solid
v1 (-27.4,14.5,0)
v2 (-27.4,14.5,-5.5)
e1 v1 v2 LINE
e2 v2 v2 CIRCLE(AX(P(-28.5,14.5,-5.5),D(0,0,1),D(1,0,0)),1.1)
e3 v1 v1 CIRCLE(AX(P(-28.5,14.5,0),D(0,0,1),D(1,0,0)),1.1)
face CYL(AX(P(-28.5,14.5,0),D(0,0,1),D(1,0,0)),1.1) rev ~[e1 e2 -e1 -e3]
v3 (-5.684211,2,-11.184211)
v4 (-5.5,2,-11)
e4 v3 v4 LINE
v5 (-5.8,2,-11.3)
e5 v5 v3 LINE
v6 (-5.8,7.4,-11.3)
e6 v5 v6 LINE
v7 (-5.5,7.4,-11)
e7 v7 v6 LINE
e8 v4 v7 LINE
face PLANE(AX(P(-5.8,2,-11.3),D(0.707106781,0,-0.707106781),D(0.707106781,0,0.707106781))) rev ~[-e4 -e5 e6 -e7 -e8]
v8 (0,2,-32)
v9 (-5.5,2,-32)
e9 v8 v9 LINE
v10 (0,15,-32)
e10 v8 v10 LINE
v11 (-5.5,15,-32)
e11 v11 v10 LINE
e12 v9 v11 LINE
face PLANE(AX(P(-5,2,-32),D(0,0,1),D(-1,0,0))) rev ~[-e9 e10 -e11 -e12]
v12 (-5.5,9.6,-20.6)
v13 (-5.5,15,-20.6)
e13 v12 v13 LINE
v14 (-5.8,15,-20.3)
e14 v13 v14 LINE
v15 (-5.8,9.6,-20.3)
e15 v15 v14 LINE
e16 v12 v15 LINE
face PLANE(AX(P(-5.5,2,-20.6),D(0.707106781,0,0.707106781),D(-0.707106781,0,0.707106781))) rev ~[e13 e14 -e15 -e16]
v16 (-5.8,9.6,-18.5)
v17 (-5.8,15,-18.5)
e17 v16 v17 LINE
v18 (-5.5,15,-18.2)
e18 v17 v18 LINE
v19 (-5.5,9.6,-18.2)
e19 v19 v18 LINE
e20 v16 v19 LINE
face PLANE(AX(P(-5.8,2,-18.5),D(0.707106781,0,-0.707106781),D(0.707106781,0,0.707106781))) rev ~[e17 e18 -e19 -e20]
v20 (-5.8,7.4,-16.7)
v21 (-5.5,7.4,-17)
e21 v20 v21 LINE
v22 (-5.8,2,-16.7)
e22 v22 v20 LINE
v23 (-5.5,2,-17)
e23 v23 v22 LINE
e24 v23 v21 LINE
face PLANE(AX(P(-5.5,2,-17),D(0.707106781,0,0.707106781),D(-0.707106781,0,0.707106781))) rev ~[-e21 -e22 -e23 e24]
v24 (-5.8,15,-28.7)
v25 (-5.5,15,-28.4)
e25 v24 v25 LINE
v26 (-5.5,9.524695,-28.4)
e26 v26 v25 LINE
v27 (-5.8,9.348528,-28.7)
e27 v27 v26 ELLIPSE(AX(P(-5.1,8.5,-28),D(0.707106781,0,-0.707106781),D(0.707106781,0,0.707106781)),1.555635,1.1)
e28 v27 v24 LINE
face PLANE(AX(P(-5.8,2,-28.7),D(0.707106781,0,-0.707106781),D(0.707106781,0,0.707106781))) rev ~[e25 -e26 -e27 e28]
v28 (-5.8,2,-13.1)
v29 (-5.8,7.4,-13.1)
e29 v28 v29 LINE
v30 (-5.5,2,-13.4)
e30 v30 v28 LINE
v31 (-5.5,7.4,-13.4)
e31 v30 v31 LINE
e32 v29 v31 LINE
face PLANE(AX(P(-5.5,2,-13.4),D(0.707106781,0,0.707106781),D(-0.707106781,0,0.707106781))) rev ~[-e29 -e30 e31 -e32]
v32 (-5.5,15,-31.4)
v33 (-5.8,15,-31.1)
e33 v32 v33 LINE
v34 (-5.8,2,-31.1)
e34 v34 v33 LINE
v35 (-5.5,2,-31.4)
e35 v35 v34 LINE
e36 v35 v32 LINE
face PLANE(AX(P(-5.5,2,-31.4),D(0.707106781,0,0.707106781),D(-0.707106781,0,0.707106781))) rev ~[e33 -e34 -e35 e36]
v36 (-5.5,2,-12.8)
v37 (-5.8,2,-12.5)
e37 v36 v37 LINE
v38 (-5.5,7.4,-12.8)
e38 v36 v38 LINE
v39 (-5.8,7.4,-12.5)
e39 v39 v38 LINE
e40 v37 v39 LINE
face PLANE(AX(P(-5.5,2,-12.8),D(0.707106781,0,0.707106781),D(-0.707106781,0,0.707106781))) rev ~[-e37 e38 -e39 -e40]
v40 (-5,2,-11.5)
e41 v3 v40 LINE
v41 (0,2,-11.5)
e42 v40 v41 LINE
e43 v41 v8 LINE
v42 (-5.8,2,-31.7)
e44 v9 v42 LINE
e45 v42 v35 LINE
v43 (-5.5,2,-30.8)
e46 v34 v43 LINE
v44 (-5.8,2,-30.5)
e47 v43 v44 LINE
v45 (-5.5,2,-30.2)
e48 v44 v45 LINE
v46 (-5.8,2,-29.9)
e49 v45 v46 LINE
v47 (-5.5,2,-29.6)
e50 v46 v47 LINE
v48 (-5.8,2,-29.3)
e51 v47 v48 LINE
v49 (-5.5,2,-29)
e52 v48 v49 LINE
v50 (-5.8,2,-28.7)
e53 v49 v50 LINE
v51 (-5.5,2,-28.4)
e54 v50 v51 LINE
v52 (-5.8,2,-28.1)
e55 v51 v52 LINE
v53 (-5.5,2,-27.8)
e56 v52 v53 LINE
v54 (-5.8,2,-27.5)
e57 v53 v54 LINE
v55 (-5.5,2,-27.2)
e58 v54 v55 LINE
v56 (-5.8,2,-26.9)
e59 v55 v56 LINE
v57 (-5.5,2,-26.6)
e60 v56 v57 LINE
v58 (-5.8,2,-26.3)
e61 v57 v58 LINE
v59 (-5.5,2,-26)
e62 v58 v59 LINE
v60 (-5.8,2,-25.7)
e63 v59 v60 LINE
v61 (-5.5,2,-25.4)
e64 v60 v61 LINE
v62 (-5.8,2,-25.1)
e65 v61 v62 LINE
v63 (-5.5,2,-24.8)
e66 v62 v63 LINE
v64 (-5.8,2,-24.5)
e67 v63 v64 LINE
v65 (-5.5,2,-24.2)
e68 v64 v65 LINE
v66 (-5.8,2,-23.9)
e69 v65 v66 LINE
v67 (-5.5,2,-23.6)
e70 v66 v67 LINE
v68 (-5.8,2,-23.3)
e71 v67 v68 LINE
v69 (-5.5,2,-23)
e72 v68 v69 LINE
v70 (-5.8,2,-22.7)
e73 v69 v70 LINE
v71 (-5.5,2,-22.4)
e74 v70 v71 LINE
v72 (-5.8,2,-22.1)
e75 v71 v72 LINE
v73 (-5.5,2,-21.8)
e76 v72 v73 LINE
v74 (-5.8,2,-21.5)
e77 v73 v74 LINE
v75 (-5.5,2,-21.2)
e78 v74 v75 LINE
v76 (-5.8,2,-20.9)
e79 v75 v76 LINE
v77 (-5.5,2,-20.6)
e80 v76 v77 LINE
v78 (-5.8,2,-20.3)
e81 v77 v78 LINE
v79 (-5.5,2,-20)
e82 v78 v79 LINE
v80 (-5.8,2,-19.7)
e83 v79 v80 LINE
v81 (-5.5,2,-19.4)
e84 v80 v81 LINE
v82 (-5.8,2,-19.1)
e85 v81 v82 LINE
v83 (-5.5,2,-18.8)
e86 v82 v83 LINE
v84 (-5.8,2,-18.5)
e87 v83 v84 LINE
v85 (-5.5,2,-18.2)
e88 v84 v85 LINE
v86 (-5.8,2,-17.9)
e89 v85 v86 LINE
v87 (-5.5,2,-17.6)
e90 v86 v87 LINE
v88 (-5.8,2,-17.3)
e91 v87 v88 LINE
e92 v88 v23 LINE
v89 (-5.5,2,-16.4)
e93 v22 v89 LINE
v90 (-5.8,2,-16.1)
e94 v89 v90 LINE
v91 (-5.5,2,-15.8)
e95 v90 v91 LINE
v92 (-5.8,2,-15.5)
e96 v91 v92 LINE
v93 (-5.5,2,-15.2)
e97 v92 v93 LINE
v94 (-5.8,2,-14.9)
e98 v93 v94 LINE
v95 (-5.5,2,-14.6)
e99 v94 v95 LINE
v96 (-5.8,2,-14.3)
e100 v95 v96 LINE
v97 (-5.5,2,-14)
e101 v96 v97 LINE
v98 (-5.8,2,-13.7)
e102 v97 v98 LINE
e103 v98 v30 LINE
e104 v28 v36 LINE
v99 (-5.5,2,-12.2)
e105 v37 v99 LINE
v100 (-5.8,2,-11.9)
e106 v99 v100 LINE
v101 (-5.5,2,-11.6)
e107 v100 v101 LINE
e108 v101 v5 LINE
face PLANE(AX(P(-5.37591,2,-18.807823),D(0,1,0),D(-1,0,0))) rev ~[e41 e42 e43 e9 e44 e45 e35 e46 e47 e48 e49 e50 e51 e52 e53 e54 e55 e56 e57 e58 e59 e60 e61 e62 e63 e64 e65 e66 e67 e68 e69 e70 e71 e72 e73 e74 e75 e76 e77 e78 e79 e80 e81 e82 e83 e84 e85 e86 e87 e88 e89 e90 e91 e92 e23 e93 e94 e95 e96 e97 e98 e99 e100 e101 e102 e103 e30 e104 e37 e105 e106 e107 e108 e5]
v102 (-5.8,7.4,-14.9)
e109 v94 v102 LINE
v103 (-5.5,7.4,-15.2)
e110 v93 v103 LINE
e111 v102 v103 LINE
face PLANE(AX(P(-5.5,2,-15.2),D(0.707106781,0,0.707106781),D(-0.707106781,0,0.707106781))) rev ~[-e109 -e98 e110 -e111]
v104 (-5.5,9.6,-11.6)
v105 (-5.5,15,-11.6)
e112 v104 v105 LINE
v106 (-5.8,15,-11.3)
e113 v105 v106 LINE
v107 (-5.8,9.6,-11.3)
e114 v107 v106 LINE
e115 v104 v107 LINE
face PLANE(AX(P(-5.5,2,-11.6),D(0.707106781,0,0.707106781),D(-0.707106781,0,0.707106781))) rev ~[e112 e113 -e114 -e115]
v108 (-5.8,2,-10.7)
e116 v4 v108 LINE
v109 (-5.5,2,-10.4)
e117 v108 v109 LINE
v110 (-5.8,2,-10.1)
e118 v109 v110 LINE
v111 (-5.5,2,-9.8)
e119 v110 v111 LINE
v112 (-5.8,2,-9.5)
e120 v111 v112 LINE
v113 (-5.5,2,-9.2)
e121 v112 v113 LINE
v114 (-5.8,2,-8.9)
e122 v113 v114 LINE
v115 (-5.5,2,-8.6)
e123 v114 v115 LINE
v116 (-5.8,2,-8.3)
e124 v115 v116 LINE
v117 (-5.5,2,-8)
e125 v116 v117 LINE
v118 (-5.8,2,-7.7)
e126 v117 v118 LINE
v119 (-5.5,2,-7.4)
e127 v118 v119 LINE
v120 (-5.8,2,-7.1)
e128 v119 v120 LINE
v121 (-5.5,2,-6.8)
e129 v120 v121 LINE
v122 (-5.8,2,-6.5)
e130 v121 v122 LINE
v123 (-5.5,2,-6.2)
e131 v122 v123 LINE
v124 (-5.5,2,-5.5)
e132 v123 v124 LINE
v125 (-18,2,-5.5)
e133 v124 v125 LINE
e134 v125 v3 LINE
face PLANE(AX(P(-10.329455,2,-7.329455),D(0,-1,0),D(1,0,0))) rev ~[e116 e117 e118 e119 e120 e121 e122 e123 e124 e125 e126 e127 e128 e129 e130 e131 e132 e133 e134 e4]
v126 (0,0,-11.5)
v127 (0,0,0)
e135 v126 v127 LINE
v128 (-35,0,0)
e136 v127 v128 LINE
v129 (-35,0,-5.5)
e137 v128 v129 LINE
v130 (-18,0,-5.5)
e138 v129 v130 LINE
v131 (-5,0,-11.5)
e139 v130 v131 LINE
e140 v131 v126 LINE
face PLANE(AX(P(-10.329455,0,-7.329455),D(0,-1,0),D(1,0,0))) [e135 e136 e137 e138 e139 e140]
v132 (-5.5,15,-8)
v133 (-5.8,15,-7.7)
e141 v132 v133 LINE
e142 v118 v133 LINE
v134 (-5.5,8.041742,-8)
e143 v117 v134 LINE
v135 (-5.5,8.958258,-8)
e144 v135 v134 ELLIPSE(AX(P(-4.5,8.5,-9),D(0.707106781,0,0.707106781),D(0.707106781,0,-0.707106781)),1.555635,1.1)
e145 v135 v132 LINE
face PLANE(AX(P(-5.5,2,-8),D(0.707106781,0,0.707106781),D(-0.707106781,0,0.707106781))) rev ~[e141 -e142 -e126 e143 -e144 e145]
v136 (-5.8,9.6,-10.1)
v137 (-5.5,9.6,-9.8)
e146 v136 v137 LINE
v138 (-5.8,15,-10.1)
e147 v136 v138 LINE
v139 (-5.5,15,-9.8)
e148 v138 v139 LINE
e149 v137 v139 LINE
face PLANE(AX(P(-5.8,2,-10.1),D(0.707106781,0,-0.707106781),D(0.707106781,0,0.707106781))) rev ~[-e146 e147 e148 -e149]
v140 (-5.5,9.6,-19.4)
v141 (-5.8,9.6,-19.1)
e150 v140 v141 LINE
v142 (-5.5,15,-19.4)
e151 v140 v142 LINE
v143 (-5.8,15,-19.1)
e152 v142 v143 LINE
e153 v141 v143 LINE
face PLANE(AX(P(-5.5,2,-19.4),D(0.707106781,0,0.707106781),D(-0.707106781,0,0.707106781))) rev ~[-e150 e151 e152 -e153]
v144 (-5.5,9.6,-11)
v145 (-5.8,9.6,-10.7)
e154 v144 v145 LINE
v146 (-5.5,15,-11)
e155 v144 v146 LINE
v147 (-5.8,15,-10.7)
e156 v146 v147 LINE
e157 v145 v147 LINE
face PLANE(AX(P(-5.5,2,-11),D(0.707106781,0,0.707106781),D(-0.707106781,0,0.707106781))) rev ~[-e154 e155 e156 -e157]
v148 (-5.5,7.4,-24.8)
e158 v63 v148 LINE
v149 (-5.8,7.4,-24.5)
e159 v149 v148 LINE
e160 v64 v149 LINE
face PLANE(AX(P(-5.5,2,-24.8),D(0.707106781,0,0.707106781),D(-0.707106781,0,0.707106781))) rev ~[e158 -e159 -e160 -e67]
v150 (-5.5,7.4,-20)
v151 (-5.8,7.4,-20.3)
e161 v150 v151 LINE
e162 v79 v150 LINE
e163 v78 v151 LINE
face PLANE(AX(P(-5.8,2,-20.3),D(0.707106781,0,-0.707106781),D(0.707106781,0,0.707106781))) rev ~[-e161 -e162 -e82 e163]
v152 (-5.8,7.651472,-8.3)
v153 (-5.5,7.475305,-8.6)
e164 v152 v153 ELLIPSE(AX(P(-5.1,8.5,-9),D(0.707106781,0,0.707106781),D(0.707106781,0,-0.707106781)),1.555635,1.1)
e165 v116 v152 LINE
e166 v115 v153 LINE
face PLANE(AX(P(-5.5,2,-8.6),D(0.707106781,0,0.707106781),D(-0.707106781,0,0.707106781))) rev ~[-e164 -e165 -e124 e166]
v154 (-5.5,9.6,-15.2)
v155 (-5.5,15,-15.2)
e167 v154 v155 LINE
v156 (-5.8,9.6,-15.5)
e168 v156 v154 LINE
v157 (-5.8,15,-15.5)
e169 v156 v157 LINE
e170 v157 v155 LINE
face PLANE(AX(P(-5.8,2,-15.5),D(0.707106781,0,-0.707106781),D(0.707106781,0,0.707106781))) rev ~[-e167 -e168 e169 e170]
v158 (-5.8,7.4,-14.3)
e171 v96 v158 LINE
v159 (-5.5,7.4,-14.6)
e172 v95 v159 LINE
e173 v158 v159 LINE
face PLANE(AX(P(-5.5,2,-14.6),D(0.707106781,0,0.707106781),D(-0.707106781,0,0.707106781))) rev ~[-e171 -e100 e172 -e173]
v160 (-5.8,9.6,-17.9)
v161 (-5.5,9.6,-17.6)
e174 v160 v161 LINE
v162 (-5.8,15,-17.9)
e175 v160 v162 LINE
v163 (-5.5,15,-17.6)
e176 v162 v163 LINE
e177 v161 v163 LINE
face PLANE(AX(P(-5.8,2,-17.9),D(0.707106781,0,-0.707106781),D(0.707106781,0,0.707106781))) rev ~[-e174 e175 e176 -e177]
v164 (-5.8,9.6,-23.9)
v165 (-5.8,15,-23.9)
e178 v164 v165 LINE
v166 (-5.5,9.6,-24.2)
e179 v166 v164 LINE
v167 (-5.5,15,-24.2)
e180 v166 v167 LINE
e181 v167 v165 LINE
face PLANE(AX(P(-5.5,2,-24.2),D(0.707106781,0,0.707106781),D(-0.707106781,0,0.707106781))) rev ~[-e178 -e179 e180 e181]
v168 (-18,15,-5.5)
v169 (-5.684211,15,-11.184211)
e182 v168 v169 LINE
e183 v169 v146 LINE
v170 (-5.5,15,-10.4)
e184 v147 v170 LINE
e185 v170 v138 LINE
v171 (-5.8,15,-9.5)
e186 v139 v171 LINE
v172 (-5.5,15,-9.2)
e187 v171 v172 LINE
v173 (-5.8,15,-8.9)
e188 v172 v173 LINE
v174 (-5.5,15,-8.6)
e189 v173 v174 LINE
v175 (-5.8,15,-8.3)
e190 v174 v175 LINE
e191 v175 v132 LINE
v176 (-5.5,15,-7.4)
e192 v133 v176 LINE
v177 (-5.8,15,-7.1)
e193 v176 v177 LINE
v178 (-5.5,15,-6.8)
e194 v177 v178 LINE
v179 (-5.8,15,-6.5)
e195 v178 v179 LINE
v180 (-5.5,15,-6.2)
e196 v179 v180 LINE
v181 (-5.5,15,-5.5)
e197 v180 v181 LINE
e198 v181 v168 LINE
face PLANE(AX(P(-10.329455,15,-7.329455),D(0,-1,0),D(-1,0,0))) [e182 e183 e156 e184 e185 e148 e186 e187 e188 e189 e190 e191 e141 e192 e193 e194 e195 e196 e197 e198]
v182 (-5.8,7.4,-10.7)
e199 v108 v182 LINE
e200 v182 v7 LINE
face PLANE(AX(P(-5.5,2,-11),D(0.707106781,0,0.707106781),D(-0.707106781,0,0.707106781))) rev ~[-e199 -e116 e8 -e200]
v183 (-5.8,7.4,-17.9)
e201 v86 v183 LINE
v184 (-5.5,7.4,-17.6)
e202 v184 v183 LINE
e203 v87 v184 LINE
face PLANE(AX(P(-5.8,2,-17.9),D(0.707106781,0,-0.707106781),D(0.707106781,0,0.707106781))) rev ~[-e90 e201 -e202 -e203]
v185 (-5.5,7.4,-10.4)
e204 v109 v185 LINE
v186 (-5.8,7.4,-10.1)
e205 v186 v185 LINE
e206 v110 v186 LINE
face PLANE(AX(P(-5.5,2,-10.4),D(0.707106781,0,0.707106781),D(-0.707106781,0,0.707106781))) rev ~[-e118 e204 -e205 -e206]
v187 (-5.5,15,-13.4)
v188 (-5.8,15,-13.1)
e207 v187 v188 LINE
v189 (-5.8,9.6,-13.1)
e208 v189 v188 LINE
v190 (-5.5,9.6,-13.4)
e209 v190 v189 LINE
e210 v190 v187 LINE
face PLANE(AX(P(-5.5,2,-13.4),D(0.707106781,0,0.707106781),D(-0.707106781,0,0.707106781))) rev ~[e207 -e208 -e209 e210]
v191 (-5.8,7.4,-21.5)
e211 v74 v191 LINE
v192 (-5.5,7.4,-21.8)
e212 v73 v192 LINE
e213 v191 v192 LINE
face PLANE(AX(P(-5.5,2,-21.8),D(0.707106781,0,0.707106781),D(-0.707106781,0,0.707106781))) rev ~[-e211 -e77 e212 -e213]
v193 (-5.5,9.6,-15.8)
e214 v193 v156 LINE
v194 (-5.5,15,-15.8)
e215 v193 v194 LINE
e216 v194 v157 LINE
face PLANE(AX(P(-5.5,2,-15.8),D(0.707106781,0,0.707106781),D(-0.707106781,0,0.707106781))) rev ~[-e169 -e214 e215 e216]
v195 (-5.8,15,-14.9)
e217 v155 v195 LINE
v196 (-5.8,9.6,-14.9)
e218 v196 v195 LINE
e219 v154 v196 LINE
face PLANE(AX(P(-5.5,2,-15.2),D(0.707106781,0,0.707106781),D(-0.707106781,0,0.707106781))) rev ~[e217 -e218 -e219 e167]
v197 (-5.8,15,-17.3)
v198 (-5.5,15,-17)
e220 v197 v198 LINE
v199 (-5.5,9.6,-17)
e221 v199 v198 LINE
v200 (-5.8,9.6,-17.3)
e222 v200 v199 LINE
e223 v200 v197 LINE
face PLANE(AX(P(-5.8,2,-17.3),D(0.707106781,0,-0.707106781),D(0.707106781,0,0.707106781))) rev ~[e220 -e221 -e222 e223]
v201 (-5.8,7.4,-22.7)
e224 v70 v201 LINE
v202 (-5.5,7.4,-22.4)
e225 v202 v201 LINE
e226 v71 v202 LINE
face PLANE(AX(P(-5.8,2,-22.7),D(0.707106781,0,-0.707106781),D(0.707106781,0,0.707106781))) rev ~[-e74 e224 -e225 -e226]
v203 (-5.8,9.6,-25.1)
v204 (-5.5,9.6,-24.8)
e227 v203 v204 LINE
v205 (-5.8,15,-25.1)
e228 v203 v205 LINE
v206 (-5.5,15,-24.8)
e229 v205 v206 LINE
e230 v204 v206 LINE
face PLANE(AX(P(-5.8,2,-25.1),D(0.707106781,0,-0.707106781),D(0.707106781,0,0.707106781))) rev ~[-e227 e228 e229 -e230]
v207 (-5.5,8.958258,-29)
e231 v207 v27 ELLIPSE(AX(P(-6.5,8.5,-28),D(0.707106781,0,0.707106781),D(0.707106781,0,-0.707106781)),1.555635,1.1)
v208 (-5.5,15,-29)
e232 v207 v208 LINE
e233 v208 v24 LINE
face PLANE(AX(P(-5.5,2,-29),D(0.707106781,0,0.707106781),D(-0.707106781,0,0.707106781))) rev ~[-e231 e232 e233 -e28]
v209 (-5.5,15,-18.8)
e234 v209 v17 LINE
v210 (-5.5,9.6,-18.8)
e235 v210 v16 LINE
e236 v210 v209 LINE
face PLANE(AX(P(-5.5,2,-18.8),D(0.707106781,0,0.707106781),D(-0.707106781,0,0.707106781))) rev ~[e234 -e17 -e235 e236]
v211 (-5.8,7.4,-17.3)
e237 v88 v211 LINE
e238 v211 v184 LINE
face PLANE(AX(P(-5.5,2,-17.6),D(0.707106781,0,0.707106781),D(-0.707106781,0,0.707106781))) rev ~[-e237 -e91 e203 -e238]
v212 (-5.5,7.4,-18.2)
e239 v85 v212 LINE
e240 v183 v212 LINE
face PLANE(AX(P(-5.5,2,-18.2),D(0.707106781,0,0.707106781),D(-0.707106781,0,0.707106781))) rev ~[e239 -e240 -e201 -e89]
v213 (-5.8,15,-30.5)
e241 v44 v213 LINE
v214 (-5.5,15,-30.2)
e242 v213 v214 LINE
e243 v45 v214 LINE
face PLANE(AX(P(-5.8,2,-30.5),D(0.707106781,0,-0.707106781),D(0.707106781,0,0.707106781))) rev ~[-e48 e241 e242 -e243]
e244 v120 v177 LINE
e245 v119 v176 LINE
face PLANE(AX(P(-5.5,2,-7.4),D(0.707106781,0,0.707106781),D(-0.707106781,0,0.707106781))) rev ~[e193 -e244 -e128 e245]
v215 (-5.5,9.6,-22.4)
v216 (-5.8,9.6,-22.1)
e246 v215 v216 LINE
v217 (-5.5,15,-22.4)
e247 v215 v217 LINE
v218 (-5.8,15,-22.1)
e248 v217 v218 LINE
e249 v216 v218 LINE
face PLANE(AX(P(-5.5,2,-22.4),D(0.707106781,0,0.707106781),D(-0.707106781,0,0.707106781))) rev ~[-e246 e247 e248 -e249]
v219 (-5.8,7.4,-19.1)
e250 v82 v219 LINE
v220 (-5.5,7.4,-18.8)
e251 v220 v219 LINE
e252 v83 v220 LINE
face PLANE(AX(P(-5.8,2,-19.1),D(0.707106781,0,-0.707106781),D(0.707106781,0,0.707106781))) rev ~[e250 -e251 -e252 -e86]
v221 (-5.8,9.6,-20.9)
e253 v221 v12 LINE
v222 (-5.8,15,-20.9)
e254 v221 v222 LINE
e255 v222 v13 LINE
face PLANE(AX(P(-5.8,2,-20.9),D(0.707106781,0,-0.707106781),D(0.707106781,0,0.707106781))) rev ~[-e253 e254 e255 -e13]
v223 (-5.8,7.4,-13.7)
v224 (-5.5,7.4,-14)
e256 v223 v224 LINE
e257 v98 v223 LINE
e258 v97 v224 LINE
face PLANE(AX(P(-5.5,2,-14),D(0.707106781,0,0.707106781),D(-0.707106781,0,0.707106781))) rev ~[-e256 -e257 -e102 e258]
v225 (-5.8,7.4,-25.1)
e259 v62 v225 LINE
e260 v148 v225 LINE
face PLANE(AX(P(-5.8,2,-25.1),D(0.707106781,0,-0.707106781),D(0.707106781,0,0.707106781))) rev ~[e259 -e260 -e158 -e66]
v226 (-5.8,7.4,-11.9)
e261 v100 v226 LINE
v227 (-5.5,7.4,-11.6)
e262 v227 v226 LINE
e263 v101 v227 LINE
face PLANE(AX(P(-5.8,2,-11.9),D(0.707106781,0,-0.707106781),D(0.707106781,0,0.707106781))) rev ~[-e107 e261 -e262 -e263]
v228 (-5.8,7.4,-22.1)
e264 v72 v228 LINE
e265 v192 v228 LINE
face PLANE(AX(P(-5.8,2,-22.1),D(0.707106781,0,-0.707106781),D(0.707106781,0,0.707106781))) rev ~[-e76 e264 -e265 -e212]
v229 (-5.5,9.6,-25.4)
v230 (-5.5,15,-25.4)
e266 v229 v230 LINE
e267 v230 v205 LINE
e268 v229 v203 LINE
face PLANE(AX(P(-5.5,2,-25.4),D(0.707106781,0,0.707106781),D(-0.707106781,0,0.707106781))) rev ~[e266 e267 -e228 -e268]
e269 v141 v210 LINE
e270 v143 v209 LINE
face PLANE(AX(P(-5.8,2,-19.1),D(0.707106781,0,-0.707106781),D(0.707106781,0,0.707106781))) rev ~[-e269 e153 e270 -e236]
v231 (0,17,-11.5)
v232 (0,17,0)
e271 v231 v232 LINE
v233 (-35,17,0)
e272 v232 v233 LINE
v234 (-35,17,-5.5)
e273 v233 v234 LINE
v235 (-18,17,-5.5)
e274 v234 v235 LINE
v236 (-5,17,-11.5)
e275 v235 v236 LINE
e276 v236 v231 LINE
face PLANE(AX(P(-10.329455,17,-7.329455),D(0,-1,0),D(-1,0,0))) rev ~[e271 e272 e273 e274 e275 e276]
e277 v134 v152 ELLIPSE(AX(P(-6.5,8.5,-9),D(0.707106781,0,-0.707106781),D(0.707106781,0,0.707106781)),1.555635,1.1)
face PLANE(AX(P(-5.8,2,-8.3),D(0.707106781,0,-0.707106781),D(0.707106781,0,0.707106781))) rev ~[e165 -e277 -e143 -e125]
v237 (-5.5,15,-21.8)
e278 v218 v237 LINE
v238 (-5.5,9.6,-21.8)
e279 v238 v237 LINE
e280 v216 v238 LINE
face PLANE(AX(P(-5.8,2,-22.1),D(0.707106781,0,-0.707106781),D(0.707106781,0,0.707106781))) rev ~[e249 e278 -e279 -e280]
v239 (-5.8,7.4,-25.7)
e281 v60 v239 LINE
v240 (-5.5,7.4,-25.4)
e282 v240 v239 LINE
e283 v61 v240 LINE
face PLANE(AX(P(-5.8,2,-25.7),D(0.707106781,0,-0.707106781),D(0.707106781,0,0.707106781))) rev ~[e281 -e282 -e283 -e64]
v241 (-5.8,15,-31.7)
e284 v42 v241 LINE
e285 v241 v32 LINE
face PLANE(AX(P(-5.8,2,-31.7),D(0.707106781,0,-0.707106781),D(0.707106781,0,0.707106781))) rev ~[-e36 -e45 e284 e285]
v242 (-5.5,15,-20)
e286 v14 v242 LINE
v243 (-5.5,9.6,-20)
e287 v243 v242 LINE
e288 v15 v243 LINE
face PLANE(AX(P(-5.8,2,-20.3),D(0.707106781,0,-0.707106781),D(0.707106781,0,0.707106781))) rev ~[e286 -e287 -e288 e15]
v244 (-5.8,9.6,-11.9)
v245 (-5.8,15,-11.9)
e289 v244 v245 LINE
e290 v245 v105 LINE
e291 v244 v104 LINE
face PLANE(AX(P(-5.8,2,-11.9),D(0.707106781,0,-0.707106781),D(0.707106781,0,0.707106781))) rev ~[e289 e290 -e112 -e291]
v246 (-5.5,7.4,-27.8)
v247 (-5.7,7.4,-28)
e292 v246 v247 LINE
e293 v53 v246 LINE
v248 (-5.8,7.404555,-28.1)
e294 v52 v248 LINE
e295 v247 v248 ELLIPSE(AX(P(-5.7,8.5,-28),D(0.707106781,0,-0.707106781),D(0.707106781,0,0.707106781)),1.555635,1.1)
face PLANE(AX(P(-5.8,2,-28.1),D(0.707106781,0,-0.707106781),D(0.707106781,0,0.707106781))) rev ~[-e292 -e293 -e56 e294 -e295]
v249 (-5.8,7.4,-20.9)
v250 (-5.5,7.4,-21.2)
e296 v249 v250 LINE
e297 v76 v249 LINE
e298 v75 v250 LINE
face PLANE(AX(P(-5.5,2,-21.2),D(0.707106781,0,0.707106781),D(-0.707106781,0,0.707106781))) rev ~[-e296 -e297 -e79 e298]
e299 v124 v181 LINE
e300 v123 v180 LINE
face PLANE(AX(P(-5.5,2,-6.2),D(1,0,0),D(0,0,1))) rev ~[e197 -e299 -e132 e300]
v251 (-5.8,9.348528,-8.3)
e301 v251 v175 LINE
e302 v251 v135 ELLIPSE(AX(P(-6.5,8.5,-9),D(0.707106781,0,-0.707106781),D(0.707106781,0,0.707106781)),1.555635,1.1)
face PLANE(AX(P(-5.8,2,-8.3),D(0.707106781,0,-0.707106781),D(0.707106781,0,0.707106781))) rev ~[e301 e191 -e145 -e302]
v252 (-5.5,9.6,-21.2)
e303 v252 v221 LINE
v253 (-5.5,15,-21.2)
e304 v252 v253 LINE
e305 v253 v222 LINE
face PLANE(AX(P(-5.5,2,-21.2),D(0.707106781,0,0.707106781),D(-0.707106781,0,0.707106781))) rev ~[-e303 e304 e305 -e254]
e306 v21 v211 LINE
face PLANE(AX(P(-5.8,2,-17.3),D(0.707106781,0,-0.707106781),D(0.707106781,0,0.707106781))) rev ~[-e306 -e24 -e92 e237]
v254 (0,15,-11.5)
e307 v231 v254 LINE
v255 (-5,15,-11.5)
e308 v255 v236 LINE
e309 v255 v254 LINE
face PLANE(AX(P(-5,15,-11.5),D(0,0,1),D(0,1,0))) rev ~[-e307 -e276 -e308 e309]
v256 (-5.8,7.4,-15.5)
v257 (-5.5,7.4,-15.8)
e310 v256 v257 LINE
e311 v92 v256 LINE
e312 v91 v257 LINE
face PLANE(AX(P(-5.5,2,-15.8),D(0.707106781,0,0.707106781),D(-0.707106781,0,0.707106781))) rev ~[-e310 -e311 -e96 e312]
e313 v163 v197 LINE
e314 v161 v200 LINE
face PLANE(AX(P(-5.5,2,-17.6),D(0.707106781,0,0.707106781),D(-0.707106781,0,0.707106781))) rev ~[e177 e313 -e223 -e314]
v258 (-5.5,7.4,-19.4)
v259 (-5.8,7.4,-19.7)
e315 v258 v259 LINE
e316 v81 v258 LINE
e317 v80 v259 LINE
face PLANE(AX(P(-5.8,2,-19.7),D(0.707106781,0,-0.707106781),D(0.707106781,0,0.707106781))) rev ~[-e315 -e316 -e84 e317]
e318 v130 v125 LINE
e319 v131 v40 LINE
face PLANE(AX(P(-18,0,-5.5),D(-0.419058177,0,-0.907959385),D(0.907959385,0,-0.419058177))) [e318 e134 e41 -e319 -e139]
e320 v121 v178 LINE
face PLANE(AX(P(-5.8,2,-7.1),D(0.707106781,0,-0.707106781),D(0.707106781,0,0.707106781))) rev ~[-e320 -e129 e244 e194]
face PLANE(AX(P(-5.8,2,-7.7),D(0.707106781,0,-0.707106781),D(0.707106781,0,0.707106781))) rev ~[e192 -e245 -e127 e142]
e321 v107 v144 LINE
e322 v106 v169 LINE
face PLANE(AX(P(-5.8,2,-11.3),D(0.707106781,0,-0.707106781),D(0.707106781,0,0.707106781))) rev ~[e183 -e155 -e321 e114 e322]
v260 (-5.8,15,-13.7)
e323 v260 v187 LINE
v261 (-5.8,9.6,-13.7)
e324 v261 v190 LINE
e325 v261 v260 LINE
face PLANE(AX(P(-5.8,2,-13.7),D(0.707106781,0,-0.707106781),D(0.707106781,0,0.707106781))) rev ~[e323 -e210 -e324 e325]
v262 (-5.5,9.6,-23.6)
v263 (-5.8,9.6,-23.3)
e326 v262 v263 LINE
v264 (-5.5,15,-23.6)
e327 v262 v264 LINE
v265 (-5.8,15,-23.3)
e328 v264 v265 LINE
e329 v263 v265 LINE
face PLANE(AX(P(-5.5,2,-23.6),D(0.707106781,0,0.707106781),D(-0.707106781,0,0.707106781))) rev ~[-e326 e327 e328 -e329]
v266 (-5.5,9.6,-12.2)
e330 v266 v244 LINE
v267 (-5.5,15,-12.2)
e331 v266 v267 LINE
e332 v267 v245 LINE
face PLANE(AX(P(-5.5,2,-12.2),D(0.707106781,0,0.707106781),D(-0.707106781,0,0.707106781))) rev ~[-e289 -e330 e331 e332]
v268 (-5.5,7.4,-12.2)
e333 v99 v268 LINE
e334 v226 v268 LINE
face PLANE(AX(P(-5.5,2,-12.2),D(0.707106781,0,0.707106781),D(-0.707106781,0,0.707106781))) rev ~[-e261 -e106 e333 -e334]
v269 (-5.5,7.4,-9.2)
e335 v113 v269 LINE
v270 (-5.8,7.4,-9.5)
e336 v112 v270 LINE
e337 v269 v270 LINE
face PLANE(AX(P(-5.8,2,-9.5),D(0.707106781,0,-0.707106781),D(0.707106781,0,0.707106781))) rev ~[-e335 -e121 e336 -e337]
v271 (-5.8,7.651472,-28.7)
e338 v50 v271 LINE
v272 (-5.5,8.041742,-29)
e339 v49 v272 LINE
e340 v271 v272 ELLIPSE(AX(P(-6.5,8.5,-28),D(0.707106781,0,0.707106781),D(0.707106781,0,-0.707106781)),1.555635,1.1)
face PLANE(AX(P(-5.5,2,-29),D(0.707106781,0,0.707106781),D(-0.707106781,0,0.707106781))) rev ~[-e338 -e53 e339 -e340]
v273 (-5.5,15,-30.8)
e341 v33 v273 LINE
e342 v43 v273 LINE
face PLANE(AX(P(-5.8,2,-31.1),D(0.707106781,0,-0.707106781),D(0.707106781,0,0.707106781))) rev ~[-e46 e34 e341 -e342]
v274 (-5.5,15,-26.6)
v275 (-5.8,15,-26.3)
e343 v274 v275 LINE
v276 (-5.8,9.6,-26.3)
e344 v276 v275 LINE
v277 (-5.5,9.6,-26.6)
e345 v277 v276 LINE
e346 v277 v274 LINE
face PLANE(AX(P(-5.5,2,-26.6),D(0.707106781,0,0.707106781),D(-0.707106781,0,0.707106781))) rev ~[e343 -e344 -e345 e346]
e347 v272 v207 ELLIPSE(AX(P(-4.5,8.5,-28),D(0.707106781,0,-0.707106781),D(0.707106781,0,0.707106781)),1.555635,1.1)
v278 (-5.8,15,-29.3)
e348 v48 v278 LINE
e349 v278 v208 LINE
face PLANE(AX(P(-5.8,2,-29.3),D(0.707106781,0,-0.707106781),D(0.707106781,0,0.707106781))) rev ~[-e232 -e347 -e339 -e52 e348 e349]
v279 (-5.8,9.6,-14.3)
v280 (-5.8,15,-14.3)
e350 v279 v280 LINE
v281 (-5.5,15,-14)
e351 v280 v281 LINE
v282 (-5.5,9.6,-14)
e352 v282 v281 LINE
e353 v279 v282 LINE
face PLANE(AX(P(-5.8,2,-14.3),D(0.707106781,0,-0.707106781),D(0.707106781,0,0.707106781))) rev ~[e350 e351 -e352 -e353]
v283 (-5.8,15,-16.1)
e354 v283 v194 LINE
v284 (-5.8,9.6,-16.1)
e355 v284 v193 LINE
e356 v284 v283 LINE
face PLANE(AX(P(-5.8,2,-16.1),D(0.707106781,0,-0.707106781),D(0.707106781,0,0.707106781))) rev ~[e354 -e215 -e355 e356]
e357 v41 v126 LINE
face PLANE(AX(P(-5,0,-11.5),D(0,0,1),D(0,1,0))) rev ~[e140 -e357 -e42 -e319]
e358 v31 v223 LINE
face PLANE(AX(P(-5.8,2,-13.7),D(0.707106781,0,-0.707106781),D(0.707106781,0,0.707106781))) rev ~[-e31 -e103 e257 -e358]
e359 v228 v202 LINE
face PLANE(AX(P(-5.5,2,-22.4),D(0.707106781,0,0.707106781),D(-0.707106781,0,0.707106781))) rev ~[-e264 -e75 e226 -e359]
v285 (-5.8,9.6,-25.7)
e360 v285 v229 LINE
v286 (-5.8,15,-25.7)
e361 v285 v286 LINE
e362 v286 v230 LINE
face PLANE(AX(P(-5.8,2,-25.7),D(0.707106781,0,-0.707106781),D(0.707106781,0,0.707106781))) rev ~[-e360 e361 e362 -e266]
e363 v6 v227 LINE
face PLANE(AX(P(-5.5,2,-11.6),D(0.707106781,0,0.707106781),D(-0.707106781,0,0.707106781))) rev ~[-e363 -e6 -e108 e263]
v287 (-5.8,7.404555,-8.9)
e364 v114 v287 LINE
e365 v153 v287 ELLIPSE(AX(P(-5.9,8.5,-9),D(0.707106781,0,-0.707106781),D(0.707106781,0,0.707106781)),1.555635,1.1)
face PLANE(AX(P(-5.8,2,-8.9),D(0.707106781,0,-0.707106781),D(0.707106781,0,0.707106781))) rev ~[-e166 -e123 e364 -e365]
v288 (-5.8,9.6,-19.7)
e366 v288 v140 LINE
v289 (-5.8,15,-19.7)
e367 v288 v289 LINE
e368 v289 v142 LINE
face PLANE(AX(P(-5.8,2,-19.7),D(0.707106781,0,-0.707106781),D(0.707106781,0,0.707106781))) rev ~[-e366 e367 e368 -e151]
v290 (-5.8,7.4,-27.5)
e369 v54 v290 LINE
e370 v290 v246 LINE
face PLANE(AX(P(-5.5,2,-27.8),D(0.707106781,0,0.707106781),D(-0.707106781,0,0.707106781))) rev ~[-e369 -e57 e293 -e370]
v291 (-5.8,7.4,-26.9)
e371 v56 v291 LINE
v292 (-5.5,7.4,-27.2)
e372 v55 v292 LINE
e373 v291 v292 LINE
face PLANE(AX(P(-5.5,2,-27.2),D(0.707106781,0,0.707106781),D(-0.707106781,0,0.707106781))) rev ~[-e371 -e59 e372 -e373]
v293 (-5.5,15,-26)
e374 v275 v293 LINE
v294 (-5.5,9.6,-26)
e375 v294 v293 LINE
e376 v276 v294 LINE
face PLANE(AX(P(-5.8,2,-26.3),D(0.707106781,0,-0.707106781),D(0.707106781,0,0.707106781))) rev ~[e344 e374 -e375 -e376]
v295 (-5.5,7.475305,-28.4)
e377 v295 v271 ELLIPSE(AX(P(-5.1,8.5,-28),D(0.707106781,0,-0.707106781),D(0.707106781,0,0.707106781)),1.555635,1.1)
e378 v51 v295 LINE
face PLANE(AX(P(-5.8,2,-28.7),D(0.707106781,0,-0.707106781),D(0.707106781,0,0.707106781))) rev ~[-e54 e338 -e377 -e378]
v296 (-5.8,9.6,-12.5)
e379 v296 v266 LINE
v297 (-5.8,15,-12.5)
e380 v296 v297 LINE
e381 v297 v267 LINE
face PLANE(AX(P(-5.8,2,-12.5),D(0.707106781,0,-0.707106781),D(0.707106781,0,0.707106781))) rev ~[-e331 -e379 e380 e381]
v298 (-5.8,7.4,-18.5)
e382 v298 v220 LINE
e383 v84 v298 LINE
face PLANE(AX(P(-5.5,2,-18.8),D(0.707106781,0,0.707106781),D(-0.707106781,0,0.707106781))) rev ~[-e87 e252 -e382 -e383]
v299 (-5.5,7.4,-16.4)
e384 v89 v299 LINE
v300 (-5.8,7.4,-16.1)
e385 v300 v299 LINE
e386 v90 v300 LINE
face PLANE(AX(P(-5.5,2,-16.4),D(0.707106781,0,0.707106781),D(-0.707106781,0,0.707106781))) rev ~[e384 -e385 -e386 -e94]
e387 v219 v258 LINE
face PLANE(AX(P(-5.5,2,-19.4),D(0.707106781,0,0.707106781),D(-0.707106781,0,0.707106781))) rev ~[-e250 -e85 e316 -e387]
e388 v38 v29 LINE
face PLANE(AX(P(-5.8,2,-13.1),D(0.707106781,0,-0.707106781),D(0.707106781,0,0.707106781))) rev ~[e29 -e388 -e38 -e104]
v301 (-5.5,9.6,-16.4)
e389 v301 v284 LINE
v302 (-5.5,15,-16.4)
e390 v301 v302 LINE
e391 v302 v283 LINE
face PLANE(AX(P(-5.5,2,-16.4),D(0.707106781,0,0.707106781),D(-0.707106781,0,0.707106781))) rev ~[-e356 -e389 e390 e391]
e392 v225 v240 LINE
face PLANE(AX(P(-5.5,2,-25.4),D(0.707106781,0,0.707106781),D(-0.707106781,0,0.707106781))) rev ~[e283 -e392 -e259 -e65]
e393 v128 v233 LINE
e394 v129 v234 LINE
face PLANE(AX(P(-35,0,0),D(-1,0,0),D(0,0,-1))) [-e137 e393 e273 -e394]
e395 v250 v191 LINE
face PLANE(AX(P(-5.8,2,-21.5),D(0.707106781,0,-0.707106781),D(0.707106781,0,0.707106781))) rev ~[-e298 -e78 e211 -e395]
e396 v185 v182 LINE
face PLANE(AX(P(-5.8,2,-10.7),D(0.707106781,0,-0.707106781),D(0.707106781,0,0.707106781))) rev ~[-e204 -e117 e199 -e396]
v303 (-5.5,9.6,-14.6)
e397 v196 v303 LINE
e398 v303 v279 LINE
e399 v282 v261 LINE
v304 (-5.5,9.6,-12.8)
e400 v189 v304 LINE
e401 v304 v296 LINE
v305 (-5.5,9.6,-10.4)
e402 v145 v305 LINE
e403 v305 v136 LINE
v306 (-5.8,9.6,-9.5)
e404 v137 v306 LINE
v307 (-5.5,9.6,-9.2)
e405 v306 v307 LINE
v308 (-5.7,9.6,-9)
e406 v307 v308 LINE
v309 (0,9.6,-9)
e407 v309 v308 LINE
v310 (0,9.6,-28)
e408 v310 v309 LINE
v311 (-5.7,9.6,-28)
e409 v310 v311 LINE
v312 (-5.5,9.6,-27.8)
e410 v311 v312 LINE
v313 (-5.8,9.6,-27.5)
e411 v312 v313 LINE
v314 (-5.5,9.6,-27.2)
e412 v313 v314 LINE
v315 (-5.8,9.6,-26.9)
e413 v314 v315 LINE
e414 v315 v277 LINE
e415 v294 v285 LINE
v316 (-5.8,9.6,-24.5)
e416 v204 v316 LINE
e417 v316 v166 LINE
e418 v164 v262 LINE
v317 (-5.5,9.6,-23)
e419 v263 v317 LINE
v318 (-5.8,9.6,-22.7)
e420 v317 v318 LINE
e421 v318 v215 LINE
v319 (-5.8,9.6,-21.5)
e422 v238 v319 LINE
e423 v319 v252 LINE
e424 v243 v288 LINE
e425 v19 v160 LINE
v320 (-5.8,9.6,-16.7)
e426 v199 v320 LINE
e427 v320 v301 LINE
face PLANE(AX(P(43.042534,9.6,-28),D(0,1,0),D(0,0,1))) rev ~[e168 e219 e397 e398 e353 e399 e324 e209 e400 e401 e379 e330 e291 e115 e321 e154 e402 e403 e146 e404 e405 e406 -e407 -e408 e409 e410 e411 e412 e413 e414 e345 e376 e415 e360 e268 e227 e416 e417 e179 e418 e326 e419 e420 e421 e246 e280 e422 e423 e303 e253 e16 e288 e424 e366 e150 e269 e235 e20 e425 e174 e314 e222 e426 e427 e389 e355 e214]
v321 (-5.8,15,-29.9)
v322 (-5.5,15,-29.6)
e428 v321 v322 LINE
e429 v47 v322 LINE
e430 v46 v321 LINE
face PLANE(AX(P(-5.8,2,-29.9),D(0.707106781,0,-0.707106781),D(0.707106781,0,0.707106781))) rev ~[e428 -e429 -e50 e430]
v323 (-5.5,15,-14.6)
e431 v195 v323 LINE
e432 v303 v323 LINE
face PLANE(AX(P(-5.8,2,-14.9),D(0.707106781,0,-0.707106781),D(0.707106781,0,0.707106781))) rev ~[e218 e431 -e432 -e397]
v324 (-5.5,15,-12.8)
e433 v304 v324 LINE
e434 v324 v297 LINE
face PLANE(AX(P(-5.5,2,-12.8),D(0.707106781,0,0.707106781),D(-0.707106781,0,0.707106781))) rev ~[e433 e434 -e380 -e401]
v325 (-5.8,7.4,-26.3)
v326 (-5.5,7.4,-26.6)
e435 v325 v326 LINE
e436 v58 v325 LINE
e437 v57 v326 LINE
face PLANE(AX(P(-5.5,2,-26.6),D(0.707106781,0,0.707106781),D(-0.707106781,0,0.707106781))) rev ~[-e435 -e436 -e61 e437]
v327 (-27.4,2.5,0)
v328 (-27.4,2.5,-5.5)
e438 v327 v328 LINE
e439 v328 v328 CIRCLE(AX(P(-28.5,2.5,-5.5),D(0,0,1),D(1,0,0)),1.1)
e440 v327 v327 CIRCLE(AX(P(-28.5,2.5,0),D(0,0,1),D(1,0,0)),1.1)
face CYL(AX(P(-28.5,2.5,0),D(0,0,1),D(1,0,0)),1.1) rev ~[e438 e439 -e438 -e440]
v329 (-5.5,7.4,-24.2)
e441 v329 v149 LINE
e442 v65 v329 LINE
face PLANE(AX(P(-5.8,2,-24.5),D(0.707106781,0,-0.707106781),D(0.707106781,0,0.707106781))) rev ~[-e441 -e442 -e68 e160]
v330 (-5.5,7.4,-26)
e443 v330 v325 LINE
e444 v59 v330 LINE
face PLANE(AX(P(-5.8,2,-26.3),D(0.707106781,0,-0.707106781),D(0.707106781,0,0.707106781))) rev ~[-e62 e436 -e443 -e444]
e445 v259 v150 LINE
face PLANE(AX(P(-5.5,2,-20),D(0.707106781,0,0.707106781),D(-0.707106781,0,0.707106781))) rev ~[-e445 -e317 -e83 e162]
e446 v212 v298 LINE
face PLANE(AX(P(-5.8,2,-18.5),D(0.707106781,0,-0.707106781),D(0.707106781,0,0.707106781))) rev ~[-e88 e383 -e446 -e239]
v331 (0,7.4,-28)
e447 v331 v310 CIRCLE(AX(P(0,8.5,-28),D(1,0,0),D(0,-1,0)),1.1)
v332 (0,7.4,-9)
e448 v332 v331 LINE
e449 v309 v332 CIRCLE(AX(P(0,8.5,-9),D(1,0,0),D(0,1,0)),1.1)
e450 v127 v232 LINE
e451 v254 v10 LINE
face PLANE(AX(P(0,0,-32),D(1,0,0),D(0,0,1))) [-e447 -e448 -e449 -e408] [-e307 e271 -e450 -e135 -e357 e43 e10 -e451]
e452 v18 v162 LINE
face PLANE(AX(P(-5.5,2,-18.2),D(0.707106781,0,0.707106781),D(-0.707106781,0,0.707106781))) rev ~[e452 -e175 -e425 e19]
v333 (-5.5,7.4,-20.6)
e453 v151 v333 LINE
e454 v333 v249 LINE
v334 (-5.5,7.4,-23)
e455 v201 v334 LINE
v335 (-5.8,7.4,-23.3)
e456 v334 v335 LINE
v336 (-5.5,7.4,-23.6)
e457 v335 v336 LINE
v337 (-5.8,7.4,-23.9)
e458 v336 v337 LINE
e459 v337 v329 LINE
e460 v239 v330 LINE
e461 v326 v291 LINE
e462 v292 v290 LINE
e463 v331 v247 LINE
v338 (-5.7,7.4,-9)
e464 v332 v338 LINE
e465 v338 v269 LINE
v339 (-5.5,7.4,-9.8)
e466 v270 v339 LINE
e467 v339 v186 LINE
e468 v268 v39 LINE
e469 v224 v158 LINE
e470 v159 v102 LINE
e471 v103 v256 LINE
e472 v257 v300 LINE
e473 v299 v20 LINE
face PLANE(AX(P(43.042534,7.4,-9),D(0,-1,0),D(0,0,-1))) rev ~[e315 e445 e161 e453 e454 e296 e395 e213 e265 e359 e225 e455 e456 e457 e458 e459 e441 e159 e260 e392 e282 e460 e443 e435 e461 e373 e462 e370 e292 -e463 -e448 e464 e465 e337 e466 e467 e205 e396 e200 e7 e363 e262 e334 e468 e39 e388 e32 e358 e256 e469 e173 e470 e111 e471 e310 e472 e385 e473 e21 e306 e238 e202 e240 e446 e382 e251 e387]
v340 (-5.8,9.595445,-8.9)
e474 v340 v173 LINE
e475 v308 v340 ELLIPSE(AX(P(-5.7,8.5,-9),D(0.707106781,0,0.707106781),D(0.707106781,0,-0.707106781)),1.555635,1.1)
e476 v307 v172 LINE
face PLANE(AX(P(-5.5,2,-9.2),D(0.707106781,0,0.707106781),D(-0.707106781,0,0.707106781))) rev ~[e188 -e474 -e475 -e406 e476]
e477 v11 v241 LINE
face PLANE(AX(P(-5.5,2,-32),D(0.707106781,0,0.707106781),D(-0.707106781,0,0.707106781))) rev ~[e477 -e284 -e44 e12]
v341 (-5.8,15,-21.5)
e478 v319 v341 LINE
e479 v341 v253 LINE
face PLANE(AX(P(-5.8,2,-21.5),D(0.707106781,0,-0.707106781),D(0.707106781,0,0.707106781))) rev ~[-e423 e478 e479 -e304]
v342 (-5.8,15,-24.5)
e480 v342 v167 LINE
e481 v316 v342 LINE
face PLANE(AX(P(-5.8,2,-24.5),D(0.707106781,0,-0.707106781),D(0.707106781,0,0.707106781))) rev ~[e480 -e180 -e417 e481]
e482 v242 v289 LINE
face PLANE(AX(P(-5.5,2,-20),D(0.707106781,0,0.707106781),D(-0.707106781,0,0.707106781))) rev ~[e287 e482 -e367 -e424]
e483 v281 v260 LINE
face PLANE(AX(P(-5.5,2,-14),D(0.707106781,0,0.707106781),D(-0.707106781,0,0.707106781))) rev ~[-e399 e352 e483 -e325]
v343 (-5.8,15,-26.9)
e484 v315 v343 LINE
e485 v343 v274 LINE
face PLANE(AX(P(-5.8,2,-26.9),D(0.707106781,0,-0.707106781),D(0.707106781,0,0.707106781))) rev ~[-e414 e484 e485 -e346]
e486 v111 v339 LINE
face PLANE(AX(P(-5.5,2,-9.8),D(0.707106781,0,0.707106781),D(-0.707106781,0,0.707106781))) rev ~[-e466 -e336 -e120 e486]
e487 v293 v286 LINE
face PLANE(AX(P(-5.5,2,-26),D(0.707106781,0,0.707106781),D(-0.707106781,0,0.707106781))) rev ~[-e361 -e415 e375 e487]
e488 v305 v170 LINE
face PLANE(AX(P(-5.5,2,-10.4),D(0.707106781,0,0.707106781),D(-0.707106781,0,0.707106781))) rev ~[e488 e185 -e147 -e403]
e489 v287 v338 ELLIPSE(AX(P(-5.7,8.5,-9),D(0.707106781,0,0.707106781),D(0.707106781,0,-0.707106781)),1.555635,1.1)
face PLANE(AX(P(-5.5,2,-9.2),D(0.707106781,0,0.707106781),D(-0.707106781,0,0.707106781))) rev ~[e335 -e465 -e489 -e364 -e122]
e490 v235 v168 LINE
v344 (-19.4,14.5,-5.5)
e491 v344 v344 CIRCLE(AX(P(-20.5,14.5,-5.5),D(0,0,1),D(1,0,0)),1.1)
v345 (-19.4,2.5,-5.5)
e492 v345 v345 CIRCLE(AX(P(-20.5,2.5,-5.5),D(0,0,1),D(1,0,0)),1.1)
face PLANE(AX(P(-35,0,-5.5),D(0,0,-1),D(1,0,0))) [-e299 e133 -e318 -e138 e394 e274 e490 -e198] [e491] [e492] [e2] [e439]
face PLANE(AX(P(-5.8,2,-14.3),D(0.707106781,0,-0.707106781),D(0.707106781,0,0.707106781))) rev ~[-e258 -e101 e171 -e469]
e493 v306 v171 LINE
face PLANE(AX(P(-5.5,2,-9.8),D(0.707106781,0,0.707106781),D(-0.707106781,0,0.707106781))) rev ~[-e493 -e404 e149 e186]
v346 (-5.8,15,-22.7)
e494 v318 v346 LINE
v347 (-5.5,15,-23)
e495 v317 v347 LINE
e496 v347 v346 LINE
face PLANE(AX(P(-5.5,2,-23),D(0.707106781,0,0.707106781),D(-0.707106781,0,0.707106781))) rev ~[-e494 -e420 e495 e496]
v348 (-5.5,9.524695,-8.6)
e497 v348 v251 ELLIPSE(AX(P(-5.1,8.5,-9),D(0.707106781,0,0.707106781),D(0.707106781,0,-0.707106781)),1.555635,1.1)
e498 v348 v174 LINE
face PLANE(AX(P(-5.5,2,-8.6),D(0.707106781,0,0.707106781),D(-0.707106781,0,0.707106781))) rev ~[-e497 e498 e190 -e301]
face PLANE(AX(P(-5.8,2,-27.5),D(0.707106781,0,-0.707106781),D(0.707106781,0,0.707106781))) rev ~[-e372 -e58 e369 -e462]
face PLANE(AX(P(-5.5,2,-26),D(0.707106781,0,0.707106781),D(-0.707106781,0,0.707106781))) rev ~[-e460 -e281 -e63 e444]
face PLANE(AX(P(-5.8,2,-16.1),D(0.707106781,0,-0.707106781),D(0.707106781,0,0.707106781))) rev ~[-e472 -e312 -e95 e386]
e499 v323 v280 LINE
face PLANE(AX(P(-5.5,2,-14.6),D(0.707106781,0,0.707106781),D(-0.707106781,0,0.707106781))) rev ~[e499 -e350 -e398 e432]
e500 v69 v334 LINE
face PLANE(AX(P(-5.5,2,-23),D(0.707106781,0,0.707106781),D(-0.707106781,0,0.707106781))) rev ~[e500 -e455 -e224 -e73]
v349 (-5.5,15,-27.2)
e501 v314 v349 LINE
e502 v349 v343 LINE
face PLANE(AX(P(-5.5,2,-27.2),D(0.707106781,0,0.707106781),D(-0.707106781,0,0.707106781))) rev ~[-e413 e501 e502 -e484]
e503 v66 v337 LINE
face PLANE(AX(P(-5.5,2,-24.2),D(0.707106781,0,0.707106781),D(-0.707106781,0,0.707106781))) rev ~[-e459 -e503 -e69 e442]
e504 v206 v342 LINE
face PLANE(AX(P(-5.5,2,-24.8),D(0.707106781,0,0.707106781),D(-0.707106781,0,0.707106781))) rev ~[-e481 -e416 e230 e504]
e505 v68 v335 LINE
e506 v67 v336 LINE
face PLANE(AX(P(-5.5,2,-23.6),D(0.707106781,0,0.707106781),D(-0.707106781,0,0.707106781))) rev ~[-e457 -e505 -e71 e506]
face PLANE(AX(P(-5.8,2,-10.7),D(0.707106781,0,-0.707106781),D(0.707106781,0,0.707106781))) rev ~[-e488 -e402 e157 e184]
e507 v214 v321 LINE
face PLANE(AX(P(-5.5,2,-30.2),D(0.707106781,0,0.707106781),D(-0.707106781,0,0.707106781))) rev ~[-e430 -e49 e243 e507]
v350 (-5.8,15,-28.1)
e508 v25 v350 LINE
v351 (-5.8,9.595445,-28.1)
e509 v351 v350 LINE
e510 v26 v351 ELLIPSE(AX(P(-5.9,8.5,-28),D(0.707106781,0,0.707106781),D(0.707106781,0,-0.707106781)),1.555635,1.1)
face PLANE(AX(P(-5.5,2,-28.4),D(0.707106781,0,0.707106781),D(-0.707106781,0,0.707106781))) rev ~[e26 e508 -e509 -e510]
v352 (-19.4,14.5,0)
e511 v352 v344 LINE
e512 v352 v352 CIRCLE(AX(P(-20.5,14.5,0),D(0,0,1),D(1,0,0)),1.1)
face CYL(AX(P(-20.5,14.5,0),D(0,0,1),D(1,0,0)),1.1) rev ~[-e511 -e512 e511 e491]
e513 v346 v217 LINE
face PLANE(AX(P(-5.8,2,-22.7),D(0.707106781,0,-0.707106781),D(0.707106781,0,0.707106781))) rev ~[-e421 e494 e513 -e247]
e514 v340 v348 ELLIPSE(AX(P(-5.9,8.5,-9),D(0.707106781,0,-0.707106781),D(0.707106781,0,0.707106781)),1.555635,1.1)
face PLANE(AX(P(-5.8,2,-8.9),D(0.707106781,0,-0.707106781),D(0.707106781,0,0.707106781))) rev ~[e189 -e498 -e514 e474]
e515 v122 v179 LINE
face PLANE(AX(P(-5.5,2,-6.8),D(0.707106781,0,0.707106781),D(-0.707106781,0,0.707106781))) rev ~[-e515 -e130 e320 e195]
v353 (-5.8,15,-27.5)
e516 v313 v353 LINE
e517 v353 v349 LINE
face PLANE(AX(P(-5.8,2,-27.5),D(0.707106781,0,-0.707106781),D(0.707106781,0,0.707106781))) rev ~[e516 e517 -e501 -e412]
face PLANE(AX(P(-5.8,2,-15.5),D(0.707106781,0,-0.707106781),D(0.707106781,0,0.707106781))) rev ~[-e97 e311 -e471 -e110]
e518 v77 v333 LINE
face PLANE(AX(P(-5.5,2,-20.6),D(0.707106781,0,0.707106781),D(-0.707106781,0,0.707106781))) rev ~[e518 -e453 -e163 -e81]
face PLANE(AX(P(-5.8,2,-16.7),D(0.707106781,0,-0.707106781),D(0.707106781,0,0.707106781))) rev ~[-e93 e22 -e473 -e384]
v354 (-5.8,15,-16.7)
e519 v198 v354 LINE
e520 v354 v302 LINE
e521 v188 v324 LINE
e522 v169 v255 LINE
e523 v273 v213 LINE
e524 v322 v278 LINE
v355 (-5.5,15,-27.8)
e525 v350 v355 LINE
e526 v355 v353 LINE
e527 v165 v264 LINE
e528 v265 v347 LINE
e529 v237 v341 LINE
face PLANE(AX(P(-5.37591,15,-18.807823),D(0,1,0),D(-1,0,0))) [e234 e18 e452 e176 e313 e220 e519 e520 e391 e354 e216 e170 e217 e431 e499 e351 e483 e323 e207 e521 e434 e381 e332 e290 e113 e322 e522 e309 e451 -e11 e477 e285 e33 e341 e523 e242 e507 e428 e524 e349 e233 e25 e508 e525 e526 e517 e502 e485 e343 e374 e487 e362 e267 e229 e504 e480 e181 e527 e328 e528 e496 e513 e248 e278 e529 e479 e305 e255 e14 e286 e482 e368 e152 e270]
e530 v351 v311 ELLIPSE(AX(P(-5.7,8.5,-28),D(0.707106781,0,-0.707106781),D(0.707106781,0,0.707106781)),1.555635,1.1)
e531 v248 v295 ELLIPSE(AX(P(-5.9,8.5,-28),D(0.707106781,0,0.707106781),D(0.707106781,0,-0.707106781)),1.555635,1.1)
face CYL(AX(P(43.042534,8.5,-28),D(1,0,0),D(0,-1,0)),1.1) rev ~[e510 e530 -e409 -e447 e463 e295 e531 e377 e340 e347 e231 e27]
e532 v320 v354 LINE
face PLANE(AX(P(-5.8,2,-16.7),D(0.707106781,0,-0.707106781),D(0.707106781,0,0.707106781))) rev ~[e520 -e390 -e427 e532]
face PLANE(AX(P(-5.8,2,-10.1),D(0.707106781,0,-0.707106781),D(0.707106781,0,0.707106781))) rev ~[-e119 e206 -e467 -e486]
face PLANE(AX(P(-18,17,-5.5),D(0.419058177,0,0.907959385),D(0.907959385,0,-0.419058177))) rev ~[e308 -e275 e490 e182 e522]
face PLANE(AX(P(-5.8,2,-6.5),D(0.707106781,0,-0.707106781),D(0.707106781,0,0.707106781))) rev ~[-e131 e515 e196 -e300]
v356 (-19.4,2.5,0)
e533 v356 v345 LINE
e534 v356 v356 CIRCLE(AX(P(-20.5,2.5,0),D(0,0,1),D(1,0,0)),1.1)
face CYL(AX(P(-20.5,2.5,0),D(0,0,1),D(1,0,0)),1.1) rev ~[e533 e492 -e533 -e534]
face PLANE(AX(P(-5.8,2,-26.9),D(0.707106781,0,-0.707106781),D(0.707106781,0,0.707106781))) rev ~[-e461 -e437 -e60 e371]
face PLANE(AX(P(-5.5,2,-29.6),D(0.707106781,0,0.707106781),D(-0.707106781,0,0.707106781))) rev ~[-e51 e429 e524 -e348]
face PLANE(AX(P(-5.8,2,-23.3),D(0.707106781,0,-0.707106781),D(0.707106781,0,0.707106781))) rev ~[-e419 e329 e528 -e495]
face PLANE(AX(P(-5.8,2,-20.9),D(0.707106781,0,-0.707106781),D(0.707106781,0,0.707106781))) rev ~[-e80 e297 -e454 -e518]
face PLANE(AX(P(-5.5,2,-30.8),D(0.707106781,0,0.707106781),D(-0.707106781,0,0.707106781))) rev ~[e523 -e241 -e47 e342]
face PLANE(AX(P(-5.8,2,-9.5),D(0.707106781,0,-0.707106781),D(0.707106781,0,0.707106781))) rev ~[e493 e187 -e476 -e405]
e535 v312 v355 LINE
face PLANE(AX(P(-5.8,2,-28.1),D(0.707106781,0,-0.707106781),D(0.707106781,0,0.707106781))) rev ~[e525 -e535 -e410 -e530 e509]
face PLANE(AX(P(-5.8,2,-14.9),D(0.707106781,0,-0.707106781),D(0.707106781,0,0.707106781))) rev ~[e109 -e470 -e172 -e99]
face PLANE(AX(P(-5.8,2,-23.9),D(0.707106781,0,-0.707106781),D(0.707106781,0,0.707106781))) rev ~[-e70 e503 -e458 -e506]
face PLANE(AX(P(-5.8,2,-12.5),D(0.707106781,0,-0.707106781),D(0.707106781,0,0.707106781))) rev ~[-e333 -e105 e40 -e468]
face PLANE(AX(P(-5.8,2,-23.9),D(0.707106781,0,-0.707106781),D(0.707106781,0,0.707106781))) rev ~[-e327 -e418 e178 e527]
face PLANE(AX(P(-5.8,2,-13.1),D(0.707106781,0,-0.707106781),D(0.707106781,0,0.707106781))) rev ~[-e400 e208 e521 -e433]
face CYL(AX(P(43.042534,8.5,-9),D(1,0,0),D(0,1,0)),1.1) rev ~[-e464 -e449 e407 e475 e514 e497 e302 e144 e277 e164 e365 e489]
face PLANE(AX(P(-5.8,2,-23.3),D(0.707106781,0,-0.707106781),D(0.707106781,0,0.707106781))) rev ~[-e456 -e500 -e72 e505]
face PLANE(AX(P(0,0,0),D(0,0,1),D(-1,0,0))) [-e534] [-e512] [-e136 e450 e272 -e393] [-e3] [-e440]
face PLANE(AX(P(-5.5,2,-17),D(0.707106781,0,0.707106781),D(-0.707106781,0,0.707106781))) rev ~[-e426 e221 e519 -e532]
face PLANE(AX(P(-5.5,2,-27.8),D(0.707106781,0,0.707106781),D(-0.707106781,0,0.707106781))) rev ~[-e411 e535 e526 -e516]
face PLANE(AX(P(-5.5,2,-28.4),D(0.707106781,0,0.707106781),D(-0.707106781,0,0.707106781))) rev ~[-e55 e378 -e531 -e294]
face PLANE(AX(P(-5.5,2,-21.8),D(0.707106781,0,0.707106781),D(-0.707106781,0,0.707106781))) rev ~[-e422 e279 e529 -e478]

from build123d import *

# Parameters (mm, degrees)
EXTRUDE_1_DEPTH          = 17
SKETCH_4_R               = 1.1
CUT_EXTRUDE_2_DEPTH      = 51.378566871
SKETCH_8_W               = 20.5
SKETCH_8_H               = 2
CUT_EXTRUDE_5_DEPTH      = 48.042533945
EXTRUDE_2_DEPTH          = 13
CUT_EXTRUDE_4_DEPTH      = 10
CUT_EXTRUDE_4_DEPTH_BACK = 48.042533945
EXTRUDE_3_DEPTH          = 2
EXTRUDE_4_DEPTH          = 2


with BuildPart() as part:
    # 草图1 → 凸台-拉伸1 (new body)
    with BuildSketch(Plane(origin=(0, 0, 0), x_dir=(1, 0, 0), z_dir=(0, 1, 0))):
        Polygon((0, 0), (-35, 0), (-35, 5.5), (-5, 5.5), (-5, 32), (0, 32), align=None)
    extrude(amount=EXTRUDE_1_DEPTH)

    # 草图4 → 切除-拉伸2 (cut, through all)
    with BuildSketch(Plane.XY):
        with Locations((-28.5, 14.5)):
            Circle(SKETCH_4_R)
        with Locations((-20.5, 14.5)):
            Circle(SKETCH_4_R)
        with Locations((-28.5, 2.5)):
            Circle(SKETCH_4_R)
        with Locations((-20.5, 2.5)):
            Circle(SKETCH_4_R)
    extrude(amount=-CUT_EXTRUDE_2_DEPTH, mode=Mode.SUBTRACT)

    # 草图8 → 切除-拉伸5 (cut, through all)
    with BuildSketch(Plane.ZY.offset(5)):
        with Locations((-21.75, 16)):
            Rectangle(SKETCH_8_W, SKETCH_8_H)
        with Locations((-21.75, 1)):
            Rectangle(SKETCH_8_W, SKETCH_8_H)
    extrude(amount=-CUT_EXTRUDE_5_DEPTH, mode=Mode.SUBTRACT)

    # 草图11 → 凸台-拉伸2 (add)
    with BuildSketch(Plane.XZ.offset(-2)):
        Polygon((-5, -5.5), (-5, -32), (-5.5, -32), (-5.8, -31.7), (-5.5, -31.4), (-5.8, -31.1), (-5.5, -30.8), (-5.8, -30.5), (-5.5, -30.2), (-5.8, -29.9), (-5.5, -29.6), (-5.8, -29.3), (-5.5, -29), (-5.8, -28.7), (-5.5, -28.4), (-5.8, -28.1), (-5.5, -27.8), (-5.8, -27.5), (-5.5, -27.2), (-5.8, -26.9), (-5.5, -26.6), (-5.8, -26.3), (-5.5, -26), (-5.8, -25.7), (-5.5, -25.4), (-5.8, -25.1), (-5.5, -24.8), (-5.8, -24.5), (-5.5, -24.2), (-5.8, -23.9), (-5.5, -23.6), (-5.8, -23.3), (-5.5, -23), (-5.8, -22.7), (-5.5, -22.4), (-5.8, -22.1), (-5.5, -21.8), (-5.8, -21.5), (-5.5, -21.2), (-5.8, -20.9), (-5.5, -20.6), (-5.8, -20.3), (-5.5, -20), (-5.8, -19.7), (-5.5, -19.4), (-5.8, -19.1), (-5.5, -18.8), (-5.8, -18.5), (-5.5, -18.2), (-5.8, -17.9), (-5.5, -17.6), (-5.8, -17.3), (-5.5, -17), (-5.8, -16.7), (-5.5, -16.4), (-5.8, -16.1), (-5.5, -15.8), (-5.8, -15.5), (-5.5, -15.2), (-5.8, -14.9), (-5.5, -14.6), (-5.8, -14.3), (-5.5, -14), (-5.8, -13.7), (-5.5, -13.4), (-5.8, -13.1), (-5.5, -12.8), (-5.8, -12.5), (-5.5, -12.2), (-5.8, -11.9), (-5.5, -11.6), (-5.8, -11.3), (-5.5, -11), (-5.8, -10.7), (-5.5, -10.4), (-5.8, -10.1), (-5.5, -9.8), (-5.8, -9.5), (-5.5, -9.2), (-5.8, -8.9), (-5.5, -8.6), (-5.8, -8.3), (-5.5, -8), (-5.8, -7.7), (-5.5, -7.4), (-5.8, -7.1), (-5.5, -6.8), (-5.8, -6.5), (-5.5, -6.2), (-5.5, -5.5), align=None)
    extrude(amount=-EXTRUDE_2_DEPTH)

    # 草图6 → 切除-拉伸4 (cut, two sides: drawn at the far end of the back side and taken through both)
    with BuildSketch(Plane.ZY.offset(5).offset(-CUT_EXTRUDE_4_DEPTH_BACK)):
        with BuildLine():
            Line((-28, 9.6), (-9, 9.6))
            ThreePointArc((-9, 9.6), (-7.9, 8.5), (-9, 7.4))
            Line((-9, 7.4), (-28, 7.4))
            ThreePointArc((-28, 7.4), (-29.1, 8.5), (-28, 9.6))
        make_face()
    extrude(amount=CUT_EXTRUDE_4_DEPTH + CUT_EXTRUDE_4_DEPTH_BACK, mode=Mode.SUBTRACT)

    # 草图12 → 凸台-拉伸3 (add)
    with BuildSketch(Plane.XZ):
        Polygon((-5, -11.5), (-5, -5.5), (-18, -5.5), align=None)
    extrude(amount=-EXTRUDE_3_DEPTH)

    # 草图13 → 凸台-拉伸4 (add)
    with BuildSketch(Plane(origin=(0, 17, 0), x_dir=(1, 0, 0), z_dir=(0, 1, 0))):
        Polygon((-5, 11.5), (-5, 5.5), (-18, 5.5), align=None)
    extrude(amount=-EXTRUDE_4_DEPTH)


solid = part.part
